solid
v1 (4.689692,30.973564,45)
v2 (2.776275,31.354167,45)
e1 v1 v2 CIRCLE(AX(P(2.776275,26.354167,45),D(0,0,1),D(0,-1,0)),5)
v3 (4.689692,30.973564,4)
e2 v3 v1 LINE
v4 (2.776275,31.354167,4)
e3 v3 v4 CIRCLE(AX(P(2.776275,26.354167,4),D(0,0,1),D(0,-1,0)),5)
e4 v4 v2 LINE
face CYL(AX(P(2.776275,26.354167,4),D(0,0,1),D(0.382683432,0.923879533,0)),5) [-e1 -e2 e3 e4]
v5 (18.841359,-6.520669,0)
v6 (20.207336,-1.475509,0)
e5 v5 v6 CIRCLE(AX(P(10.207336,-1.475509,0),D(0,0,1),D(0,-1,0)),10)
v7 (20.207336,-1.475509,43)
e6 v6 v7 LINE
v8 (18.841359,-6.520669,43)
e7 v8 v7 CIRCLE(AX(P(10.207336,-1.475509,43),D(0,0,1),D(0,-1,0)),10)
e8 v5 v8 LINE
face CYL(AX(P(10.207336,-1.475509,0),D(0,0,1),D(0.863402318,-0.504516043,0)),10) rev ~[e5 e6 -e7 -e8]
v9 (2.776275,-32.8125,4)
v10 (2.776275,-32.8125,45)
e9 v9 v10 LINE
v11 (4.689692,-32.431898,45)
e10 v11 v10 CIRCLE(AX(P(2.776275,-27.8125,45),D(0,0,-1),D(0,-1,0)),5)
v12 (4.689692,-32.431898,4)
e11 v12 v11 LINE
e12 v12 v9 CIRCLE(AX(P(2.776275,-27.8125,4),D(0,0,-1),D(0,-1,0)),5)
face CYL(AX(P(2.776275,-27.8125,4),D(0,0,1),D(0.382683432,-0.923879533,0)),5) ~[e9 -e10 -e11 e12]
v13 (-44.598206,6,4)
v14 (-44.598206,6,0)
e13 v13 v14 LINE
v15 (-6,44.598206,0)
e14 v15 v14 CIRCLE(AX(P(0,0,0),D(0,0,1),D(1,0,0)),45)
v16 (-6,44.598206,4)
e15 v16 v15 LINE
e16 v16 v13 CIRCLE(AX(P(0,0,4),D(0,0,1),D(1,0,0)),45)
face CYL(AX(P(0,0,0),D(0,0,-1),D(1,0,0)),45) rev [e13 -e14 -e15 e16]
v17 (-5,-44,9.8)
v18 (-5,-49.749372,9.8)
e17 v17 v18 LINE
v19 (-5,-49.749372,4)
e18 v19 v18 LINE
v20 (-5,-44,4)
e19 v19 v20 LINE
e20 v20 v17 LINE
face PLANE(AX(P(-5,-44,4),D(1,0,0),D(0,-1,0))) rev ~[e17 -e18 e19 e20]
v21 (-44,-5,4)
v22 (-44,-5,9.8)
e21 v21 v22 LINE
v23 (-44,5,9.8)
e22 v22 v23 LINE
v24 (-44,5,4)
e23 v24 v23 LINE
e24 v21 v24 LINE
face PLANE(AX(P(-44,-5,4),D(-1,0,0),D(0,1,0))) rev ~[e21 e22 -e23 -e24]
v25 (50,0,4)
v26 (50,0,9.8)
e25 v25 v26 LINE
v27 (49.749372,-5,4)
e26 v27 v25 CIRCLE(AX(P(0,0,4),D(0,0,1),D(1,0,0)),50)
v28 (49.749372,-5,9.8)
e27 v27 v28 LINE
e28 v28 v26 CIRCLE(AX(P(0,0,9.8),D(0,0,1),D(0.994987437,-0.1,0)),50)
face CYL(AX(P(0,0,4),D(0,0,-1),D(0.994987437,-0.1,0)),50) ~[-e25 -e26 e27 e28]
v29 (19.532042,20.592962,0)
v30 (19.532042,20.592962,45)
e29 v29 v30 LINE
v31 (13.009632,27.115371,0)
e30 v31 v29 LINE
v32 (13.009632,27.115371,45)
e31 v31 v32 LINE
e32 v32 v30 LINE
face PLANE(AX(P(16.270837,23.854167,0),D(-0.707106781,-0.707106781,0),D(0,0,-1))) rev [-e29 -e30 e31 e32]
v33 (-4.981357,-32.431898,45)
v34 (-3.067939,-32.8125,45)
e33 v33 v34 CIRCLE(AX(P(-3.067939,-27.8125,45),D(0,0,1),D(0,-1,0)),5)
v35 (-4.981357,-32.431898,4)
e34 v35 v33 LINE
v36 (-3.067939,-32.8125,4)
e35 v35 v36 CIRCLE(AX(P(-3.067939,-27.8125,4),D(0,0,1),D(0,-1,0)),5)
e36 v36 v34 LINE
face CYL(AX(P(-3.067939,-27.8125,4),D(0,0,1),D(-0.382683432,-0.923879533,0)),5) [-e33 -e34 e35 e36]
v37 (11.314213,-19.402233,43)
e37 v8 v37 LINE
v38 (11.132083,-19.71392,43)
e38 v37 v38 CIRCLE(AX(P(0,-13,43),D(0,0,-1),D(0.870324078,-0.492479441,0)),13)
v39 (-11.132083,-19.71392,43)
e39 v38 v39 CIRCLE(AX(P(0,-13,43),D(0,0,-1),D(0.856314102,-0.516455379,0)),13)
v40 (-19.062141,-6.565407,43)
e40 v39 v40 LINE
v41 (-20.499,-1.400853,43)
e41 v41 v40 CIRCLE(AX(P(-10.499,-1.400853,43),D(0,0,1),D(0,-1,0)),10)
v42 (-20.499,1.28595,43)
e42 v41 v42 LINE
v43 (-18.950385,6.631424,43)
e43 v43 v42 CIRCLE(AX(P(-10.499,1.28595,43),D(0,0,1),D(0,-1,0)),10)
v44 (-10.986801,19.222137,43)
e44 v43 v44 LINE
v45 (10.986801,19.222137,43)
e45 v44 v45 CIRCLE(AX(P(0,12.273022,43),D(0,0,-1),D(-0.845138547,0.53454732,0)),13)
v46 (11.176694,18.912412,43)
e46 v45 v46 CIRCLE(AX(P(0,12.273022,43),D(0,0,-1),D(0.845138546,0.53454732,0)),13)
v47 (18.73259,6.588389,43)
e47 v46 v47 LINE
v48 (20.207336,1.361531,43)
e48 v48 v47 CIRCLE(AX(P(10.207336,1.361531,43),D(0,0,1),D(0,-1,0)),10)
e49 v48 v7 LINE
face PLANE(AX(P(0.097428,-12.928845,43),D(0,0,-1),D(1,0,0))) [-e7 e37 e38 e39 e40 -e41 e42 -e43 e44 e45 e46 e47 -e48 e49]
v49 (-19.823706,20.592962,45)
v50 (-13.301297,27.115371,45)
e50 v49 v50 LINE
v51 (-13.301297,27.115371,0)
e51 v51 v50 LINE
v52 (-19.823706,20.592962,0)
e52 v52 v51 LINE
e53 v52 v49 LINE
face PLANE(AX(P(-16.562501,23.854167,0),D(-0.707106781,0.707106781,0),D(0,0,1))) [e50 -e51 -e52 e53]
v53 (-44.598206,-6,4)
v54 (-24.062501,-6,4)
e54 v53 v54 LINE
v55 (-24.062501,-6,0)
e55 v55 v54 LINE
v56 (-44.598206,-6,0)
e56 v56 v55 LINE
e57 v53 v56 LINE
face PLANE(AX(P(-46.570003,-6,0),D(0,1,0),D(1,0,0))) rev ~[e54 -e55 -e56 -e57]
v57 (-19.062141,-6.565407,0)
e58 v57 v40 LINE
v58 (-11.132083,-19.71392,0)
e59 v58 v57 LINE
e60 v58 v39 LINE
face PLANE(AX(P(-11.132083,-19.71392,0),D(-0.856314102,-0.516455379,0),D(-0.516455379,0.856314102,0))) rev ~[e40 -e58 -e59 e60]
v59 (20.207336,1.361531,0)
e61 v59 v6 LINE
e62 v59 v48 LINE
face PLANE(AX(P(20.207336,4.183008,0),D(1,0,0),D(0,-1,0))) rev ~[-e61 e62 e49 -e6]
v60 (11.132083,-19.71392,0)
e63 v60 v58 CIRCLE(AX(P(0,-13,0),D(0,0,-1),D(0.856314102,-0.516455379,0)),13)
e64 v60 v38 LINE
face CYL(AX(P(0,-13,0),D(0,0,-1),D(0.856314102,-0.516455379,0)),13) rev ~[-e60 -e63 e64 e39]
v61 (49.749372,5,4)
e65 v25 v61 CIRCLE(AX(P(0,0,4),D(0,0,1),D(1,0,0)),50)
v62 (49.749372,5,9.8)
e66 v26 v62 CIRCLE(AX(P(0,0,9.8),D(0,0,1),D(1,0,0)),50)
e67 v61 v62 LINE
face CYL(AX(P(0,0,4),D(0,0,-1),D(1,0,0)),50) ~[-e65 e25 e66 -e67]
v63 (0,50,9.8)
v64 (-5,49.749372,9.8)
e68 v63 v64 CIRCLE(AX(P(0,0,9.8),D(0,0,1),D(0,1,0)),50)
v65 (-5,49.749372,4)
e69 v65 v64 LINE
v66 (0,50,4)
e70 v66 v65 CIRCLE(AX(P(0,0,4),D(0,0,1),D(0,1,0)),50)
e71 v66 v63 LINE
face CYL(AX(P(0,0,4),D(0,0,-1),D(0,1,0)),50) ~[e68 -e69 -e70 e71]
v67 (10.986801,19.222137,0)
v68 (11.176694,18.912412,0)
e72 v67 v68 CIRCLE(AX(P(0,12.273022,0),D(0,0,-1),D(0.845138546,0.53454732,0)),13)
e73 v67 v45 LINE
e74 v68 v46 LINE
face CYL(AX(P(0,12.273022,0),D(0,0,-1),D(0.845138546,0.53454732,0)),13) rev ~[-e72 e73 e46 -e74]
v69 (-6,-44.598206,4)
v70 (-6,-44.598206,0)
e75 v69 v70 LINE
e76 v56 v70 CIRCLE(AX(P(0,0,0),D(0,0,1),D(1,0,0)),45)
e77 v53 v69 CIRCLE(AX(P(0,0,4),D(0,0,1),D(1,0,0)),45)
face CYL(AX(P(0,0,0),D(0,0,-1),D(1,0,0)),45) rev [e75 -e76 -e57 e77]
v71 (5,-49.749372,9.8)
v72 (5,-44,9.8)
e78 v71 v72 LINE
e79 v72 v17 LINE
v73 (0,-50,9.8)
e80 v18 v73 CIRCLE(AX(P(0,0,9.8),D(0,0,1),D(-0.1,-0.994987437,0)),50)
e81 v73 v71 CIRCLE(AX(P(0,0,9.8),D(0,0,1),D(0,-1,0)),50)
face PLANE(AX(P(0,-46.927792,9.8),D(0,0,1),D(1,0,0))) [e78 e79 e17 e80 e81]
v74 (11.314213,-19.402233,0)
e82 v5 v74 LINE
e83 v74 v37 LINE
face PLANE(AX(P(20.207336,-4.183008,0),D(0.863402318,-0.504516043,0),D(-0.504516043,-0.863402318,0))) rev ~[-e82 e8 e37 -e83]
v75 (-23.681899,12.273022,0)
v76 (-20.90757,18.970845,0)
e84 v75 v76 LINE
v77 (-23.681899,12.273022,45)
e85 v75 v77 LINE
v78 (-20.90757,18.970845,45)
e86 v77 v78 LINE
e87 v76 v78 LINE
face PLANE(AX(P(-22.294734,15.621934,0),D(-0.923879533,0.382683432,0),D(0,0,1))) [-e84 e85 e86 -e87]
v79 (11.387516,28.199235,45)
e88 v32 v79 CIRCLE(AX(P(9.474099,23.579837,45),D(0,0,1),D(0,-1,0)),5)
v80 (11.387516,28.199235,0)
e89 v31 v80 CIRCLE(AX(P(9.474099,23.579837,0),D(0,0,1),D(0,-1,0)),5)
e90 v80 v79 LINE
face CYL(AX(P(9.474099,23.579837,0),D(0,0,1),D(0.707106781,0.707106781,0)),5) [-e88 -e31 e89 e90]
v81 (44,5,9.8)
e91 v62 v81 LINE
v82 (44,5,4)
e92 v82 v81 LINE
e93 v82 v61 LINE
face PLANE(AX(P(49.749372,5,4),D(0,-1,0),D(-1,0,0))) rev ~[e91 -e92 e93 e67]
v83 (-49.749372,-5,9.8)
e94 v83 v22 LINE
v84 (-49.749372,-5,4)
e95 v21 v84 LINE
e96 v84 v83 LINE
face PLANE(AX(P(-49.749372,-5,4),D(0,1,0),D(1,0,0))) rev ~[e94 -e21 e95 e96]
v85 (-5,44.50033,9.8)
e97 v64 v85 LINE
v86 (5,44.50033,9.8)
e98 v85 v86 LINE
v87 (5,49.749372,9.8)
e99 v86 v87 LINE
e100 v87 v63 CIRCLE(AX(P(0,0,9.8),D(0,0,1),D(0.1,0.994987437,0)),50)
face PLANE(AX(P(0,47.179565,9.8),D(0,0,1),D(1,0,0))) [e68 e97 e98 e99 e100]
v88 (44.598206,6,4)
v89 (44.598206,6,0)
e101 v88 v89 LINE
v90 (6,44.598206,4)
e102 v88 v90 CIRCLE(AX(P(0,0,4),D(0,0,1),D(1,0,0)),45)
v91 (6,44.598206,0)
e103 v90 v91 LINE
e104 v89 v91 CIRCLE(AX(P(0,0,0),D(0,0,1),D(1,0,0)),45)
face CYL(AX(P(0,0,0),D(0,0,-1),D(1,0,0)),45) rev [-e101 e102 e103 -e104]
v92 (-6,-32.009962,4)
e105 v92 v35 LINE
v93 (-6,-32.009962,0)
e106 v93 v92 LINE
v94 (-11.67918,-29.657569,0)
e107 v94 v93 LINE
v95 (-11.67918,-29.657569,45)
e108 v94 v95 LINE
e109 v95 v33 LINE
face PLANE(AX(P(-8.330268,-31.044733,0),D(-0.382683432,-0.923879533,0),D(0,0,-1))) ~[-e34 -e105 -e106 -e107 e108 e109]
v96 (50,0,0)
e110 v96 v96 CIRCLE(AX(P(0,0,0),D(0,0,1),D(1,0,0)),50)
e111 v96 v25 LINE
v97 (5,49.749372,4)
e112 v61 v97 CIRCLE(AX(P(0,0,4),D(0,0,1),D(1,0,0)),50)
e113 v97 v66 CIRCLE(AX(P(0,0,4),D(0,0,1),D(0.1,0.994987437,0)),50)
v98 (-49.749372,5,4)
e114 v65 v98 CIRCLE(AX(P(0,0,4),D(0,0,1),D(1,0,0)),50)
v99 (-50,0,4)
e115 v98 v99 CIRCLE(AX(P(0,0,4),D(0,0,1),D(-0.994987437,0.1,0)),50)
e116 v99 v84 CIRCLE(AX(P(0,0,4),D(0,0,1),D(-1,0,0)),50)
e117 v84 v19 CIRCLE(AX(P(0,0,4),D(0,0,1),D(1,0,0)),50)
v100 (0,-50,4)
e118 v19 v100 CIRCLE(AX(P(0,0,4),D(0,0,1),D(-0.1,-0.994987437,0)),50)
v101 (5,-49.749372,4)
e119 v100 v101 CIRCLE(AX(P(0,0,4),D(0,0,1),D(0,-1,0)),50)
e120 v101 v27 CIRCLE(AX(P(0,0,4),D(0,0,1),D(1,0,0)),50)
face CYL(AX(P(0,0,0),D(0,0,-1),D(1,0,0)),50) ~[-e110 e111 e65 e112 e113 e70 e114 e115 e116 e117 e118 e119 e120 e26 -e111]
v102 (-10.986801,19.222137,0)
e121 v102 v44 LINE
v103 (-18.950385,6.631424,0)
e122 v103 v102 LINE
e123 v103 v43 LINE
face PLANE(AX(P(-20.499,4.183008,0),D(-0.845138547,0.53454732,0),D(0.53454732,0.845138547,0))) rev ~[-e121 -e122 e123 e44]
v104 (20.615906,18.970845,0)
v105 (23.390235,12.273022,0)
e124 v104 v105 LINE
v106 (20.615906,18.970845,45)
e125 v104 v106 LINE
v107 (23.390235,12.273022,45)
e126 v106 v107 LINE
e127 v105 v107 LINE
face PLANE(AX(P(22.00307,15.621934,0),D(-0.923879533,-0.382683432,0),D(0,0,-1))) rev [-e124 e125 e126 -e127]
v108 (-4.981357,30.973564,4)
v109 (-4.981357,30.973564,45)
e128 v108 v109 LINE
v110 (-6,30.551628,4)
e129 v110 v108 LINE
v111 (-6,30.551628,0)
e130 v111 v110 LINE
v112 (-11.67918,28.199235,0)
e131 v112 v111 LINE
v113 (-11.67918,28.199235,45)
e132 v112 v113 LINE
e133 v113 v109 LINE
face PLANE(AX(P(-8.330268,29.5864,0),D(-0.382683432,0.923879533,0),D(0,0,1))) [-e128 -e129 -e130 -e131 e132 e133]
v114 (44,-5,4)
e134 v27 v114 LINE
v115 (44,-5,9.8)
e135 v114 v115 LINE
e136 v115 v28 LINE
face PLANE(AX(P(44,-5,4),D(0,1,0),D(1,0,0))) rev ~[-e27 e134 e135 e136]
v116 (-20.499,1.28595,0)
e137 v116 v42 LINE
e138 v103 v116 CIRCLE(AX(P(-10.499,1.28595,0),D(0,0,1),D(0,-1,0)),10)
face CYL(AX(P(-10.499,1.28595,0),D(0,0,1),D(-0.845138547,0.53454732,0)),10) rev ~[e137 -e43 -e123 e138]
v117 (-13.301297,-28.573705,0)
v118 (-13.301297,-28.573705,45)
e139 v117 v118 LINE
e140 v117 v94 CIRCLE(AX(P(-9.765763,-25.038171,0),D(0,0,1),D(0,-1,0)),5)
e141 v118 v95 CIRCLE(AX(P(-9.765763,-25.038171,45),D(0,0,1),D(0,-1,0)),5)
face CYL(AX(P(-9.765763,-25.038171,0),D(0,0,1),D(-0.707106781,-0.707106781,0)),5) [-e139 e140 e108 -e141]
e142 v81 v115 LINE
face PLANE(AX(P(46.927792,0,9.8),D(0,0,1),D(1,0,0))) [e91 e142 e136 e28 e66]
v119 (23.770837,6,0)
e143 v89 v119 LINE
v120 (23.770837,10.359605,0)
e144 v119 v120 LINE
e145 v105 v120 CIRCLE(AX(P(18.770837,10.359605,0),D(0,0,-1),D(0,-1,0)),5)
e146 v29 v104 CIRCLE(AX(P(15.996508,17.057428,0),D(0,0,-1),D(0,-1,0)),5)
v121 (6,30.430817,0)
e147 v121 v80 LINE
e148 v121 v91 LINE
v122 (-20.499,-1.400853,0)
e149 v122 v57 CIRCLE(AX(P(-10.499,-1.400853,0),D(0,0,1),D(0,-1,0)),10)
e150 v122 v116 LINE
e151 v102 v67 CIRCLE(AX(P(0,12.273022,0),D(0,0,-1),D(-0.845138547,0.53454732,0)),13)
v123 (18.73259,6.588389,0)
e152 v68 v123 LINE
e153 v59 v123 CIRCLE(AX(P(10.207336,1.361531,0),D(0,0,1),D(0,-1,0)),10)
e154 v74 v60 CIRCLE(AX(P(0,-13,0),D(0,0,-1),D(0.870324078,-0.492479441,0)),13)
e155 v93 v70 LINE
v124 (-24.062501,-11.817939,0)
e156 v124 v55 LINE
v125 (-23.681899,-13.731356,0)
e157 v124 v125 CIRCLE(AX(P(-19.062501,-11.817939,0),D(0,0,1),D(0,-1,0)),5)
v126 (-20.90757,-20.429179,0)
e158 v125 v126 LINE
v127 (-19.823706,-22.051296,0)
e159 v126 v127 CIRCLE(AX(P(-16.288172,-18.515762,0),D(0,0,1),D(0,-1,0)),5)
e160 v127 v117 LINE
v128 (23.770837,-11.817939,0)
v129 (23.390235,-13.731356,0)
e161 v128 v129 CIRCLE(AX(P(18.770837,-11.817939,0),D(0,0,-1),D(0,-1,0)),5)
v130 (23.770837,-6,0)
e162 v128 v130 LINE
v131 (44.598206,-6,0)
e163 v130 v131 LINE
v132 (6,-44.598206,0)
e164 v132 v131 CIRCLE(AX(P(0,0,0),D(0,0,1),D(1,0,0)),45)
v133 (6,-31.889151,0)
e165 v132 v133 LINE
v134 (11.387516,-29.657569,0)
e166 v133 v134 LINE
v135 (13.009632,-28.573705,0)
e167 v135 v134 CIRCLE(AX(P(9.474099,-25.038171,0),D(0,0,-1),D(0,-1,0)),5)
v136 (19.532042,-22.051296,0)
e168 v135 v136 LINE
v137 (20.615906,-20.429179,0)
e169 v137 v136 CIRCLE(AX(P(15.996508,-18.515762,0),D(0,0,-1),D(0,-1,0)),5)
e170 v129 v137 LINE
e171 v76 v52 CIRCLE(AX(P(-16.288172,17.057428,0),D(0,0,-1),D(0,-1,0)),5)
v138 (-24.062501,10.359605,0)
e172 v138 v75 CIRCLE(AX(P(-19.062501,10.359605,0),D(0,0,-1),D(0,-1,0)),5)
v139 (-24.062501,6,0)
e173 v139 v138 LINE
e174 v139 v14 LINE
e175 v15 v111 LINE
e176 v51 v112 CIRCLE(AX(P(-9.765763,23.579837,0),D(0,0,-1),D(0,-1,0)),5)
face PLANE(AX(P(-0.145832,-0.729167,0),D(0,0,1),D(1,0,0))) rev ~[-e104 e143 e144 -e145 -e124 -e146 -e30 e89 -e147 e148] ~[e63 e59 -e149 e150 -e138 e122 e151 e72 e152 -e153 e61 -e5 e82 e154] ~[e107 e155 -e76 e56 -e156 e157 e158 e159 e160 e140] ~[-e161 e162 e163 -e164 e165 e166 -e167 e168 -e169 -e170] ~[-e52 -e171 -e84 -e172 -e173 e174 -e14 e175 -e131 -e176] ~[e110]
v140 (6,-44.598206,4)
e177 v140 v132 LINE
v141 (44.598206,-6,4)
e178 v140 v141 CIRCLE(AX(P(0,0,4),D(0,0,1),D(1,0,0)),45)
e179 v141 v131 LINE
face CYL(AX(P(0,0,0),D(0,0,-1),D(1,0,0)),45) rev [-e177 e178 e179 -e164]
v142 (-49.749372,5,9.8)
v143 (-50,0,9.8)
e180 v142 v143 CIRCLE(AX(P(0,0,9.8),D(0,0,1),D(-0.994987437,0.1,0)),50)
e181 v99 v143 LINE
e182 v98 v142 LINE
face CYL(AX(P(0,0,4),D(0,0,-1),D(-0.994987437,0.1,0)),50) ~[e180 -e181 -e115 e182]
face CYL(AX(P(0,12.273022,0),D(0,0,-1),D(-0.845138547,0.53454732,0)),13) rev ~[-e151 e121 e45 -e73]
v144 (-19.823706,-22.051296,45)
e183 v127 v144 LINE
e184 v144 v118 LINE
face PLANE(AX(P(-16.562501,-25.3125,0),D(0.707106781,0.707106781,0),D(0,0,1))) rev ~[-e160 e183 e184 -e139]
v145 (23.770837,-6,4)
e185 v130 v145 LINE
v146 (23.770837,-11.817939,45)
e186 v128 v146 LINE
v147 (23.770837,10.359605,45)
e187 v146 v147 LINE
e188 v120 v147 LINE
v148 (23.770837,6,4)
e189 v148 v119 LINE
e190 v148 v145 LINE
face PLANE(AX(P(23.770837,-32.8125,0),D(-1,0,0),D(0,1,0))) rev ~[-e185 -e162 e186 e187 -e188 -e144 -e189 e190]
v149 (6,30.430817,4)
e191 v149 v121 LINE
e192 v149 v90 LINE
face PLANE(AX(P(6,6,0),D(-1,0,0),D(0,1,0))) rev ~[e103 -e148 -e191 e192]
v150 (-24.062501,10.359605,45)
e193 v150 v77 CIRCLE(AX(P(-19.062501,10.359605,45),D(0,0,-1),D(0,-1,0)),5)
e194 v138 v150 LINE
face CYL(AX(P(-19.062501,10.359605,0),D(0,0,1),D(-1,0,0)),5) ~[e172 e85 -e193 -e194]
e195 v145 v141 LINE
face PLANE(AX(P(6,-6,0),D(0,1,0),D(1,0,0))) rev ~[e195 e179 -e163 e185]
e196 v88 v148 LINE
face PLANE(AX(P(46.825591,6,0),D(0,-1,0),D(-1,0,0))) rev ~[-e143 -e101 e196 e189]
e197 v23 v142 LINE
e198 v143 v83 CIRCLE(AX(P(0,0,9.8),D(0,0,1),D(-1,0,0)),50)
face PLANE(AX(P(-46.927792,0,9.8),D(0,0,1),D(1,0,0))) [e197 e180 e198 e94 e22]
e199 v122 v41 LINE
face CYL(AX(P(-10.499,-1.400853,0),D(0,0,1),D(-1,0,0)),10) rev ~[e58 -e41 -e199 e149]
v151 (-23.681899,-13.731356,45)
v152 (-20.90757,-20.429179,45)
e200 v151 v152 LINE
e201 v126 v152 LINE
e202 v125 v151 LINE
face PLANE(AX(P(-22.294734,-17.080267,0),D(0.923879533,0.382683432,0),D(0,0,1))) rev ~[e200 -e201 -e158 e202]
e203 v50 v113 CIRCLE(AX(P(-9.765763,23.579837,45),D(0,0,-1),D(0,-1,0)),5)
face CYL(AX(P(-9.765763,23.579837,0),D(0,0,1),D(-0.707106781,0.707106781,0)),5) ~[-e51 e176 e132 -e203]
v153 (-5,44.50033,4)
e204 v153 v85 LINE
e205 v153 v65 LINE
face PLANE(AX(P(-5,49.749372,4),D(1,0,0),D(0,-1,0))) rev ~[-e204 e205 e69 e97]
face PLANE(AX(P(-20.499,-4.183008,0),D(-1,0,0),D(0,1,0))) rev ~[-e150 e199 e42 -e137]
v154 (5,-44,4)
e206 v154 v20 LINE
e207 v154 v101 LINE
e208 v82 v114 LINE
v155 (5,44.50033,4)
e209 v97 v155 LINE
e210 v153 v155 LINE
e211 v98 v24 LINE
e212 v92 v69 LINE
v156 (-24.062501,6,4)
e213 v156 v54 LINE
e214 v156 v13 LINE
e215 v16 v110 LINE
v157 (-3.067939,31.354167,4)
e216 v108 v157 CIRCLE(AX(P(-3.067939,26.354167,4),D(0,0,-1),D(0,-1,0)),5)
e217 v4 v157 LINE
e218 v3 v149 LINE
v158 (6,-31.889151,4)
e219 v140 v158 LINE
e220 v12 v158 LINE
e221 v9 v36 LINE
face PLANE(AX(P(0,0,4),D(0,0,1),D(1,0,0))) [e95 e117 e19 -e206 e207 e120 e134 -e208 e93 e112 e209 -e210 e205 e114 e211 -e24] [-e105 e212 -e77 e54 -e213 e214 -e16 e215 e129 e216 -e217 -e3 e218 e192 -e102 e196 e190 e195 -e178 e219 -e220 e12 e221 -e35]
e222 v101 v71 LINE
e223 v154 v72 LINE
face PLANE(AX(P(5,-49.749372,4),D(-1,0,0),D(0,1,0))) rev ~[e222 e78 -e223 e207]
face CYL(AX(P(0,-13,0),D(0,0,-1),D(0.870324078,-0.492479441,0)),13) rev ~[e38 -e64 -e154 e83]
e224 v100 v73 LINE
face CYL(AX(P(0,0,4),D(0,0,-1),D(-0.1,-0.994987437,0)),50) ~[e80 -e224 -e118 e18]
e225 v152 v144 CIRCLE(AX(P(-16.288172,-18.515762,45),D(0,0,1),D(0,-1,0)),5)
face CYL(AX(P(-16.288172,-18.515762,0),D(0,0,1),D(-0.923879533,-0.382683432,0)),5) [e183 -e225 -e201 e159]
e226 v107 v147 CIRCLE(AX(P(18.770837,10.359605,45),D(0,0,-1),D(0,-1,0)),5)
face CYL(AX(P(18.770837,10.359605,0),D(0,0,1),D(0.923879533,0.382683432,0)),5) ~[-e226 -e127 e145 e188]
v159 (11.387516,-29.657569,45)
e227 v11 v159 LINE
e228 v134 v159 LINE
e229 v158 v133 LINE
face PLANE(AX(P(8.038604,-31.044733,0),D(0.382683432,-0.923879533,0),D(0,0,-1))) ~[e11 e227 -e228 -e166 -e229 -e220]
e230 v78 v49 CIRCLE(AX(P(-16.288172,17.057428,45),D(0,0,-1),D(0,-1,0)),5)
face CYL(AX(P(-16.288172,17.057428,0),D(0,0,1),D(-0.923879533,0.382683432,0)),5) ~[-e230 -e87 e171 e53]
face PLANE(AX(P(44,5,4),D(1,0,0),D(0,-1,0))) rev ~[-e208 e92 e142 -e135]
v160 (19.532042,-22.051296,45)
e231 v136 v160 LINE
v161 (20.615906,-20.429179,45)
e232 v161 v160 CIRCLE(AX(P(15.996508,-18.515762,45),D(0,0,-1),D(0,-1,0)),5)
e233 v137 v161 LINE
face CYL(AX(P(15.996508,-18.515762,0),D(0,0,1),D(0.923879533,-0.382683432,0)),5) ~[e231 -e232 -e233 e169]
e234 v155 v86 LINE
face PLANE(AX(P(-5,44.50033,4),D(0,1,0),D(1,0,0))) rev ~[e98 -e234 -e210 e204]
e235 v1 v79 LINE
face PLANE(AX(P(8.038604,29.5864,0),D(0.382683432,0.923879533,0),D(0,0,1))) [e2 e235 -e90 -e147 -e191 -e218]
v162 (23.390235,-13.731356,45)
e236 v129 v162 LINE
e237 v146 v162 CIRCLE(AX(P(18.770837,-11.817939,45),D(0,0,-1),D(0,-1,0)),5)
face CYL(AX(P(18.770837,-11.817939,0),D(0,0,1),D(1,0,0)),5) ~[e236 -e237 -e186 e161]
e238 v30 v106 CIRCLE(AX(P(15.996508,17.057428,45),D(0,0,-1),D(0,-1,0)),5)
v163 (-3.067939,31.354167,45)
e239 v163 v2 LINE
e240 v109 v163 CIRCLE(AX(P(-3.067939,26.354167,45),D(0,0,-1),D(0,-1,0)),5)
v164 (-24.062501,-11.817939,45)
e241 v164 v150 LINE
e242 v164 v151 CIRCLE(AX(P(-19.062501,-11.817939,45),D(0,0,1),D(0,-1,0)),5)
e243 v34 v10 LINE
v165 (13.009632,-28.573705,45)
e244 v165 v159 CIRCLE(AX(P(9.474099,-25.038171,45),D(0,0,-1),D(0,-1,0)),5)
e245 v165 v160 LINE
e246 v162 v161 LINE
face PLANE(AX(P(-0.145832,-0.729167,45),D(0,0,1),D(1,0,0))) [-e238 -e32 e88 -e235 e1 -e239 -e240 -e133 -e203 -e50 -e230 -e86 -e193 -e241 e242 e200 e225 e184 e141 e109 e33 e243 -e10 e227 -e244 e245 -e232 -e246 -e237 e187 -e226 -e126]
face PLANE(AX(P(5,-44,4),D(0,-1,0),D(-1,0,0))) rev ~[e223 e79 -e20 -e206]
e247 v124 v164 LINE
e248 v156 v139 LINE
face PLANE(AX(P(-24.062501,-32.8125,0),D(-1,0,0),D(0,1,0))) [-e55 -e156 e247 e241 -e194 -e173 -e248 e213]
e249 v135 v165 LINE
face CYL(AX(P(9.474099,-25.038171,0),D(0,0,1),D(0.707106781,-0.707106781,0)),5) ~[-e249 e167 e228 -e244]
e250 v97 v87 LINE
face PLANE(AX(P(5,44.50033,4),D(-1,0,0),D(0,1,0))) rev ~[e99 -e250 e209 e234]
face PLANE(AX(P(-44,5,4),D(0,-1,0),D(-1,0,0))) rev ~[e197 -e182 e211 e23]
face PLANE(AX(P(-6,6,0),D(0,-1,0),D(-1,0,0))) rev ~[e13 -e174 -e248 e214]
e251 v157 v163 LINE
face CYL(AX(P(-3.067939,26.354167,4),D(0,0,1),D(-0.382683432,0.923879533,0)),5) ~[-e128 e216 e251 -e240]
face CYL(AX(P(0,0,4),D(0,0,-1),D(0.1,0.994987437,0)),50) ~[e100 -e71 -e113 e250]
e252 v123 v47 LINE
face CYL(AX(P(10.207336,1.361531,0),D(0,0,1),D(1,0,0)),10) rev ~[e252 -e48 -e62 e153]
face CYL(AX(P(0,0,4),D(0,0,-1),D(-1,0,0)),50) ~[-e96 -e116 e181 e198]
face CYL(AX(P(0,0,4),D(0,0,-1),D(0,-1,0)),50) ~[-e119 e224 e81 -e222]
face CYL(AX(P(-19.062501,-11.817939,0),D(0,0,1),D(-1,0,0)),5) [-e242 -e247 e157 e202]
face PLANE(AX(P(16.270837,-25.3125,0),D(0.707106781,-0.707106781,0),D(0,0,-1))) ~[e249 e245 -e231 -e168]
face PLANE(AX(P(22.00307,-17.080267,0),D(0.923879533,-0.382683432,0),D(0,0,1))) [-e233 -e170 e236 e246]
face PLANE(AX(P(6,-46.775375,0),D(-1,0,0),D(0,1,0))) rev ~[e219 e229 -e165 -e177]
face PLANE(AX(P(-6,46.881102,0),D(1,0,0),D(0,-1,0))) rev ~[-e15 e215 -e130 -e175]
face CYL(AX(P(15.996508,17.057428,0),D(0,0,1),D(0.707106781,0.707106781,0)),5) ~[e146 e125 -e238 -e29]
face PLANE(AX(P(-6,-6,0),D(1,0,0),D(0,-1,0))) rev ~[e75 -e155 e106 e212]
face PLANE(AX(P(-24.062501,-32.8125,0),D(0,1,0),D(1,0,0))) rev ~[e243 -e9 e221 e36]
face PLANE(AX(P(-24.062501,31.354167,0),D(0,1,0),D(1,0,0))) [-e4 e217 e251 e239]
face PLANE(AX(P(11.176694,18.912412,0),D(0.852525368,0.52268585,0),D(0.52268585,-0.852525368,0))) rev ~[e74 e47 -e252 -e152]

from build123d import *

# Parameters (mm, degrees)
F0_R      = 50
F1_DEPTH  = 4
F3_DEPTH  = 5.8
F4_DEPTH  = 5.8
F5_DEPTH  = 5.8
F6_R      = 45
F7_DEPTH  = 4
F8_W      = 6
F8_H      = 6
F9_DEPTH  = 4
F10_R     = 22.5
F11_DEPTH = 25
F12_W     = 47.8333383799
F12_H     = 64.1666669399
F13_DEPTH = 45
F14_SIZE  = 15
F15_SIZE  = 5
F16_R     = 5
F18_DEPTH = 43
F19_R     = 10


with BuildPart() as f1:
    # F0 (on Top) → F1 (new body)
    with BuildSketch(Plane.XY):
        Circle(F0_R)
    extrude(amount=F1_DEPTH)

    # F2 (on face) → F3 (join)
    with BuildSketch(Plane.XY.offset(4)):
        with BuildLine():
            ThreePointArc((5, 49.7493718553), (2.503138753, 49.9373036555), (0, 50))
            ThreePointArc((0, 50), (-2.503138753, 49.9373036555), (-5, 49.7493718553))
            Line((-5, 49.7493718553), (-5, 44.5003296036))
            Line((-5, 44.5003296036), (5, 44.5003296036))
            Line((5, 44.5003296036), (5, 49.7493718553))
        make_face()
    extrude(amount=F3_DEPTH)

    # F2 (on face) → F4 (join)
    with BuildSketch(Plane.XY.offset(4)):
        with BuildLine():
            ThreePointArc((0, -50), (2.503138753, -49.9373036555), (5, -49.7493718553))
            Line((5, -49.7493718553), (5, -44))
            Line((5, -44), (-5, -44))
            Line((-5, -44), (-5, -49.7493718553))
            ThreePointArc((-5, -49.7493718553), (-2.503138753, -49.9373036555), (0, -50))
        make_face()
    extrude(amount=F4_DEPTH)

    # F2 (on face) → F5 (join)
    with BuildSketch(Plane.XY.offset(4)):
        with BuildLine():
            Line((-44, 5), (-49.7493718553, 5))
            ThreePointArc((-49.7493718553, 5), (-49.9373036555, 2.503138753), (-50, 0))
            ThreePointArc((-50, 0), (-49.9373036555, -2.503138753), (-49.7493718553, -5))
            Line((-49.7493718553, -5), (-44, -5))
            Line((-44, -5), (-44, 5))
        make_face()
        with BuildLine():
            ThreePointArc((50, 0), (49.9373036555, 2.503138753), (49.7493718553, 5))
            Line((49.7493718553, 5), (44, 5))
            Line((44, 5), (44, -5))
            Line((44, -5), (49.7493718553, -5))
            ThreePointArc((49.7493718553, -5), (49.9373036555, -2.503138753), (50, 0))
        make_face()
    extrude(amount=F5_DEPTH)

    # F6 (on Top) → F7 (cut)
    with BuildSketch(Plane.XY):
        Circle(F6_R)
    extrude(amount=F7_DEPTH, mode=Mode.SUBTRACT)

    # F8 (on Top) → F9 (join)
    with BuildSketch(Plane.XY):
        Polygon((6, 46.8811020255), (-6, 46.8811020255), (-6, 6), (0, 6), (6, 6), align=None)
        with Locations((-3, 3)):
            Rectangle(F8_W, F8_H)
        Polygon((-6, 0), (-6, 6), (-46.5700030327, 6), (-46.5700030327, -6), (-6, -6), align=None)
        Polygon((46.8255914748, 6), (6, 6), (6, 0), (6, -6), (46.8255914748, -6), align=None)
        with Locations((3, 3)):
            Rectangle(F8_W, F8_H)
        with Locations((-3, -3)):
            Rectangle(F8_W, F8_H)
        with Locations((3, -3)):
            Rectangle(F8_W, F8_H)
        Polygon((0, -6), (-6, -6), (-6, -46.7753745615), (6, -46.7753745615), (6, -6), align=None)
    extrude(amount=F9_DEPTH)

    # F10 (on face) → F11 (cut)
    with BuildSketch(Plane(origin=(0, 0, 0), x_dir=(1, 0, 0), z_dir=(0, 0, -1))):
        Circle(F10_R)
    extrude(amount=-F11_DEPTH, mode=Mode.SUBTRACT)

    # F12 (on Top) → F13 (join)
    with BuildSketch(Plane.XY):
        with Locations((-0.1458320767, -0.7291669026)):
            Rectangle(F12_W, F12_H)
    extrude(amount=F13_DEPTH)

    # F14
    f14_edges = [f1.edges().sort_by_distance(p)[0] for p in [
        (-24.062501, 31.354167, 22.5),
        (23.770837, 31.354167, 22.5),
        (23.770837, -32.8125, 22.5),
        (-24.062501, -32.8125, 22.5),
    ]]
    chamfer(f14_edges, length=F14_SIZE)

    # F15
    f15_edges = [f1.edges().sort_by_distance(p)[0] for p in [
        (-9.062501, 31.354167, 22.5),
        (8.770837, 31.354167, 22.5),
        (-24.062501, -17.8125, 22.5),
        (-9.062501, -32.8125, 22.5),
        (8.770837, -32.8125, 22.5),
        (23.770837, -17.8125, 22.5),
        (23.770837, 16.354167, 22.5),
        (-24.062501, 16.354167, 22.5),
    ]]
    chamfer(f15_edges, length=F15_SIZE)

    # F16
    f16_edges = [f1.edges().sort_by_distance(p)[0] for p in [
        (-24.062501, 11.354167, 22.5),
        (-20.526967, 19.8897, 22.5),
        (-12.598035, 27.818633, 22.5),
        (-4.062501, 31.354167, 24.5),
        (3.770837, 31.354167, 24.5),
        (12.306371, 27.818633, 22.5),
        (20.235303, 19.8897, 22.5),
        (23.770837, 11.354167, 22.5),
        (23.770837, -12.8125, 22.5),
        (20.235303, -21.348034, 22.5),
        (12.306371, -29.276966, 22.5),
        (3.770837, -32.8125, 24.5),
        (-4.062501, -32.8125, 24.5),
        (-24.062501, -12.8125, 22.5),
        (-20.526967, -21.348034, 22.5),
        (-12.598035, -29.276966, 22.5),
    ]]
    fillet(f16_edges, radius=F16_R)

    # F17 (on face) → F18 (cut)
    with BuildSketch(Plane(origin=(0, 0, 0), x_dir=(1, 0, 0), z_dir=(0, 0, -1))):
        with BuildLine():
            Line((11.3142130134, 19.4022327268), (11.1320833255, 19.7139199305))
            ThreePointArc((11.1320833255, 19.7139199305), (0, 26), (-11.1320833255, 19.7139199305))
            ThreePointArc((-11.1320833255, 19.7139199305), (-11.9963062924, 7.9911443085), (-3.0526367469, 0.3634890539))
            ThreePointArc((-3.0526367469, 0.3634890539), (0, 0.7269781077), (3.0526367469, 0.3634890539))
            ThreePointArc((3.0526367469, 0.3634890539), (10.2147999909, 4.9589887983), (13, 13))
            ThreePointArc((13, 13), (12.5714909453, 16.3102289065), (11.3142130134, 19.4022327268))
        make_face()
        with BuildLine():
            ThreePointArc((11.3142130134, 19.4022327268), (11.2242301322, 19.5587085572), (11.1320833255, 19.7139199305))
            Line((11.1320833255, 19.7139199305), (11.3142130134, 19.4022327268))
        make_face()
        with BuildLine():
            ThreePointArc((-3.0526367469, 0.3634890539), (-11.9963062924, 7.9911443085), (-11.1320833255, 19.7139199305))
            Line((-11.1320833255, 19.7139199305), (-20.499, 4.1830083316))
            Line((-20.499, 4.1830083316), (-20.499, -4.1830083316))
            Line((-20.499, -4.1830083316), (-10.9868011053, -19.2221370497))
            ThreePointArc((-10.9868011053, -19.2221370497), (-12.0488854783, -7.3920016371), (-3.0526367469, 0.3634890539))
        make_face()
        with BuildLine():
            Line((20.2073358467, 4.1830083316), (11.3142130134, 19.4022327268))
            ThreePointArc((11.3142130134, 19.4022327268), (12.5714909453, 16.3102289065), (13, 13))
            ThreePointArc((13, 13), (10.2147999909, 4.9589887983), (3.0526367469, 0.3634890539))
            ThreePointArc((3.0526367469, 0.3634890539), (10.2147999909, -4.2320106906), (13, -12.2730218923))
            ThreePointArc((13, -12.2730218923), (12.5358890301, -15.7156206526), (11.1766944269, -18.9124120515))
            Line((11.1766944269, -18.9124120515), (20.2073358467, -4.1830083316))
            Line((20.2073358467, -4.1830083316), (20.2073358467, 4.1830083316))
        make_face()
        with BuildLine():
            ThreePointArc((3.0526367469, 0.3634890539), (0, 0), (-3.0526367469, 0.3634890539))
            ThreePointArc((-3.0526367469, 0.3634890539), (-12.0488854783, -7.3920016371), (-10.9868011053, -19.2221370497))
            ThreePointArc((-10.9868011053, -19.2221370497), (0, -25.2730218923), (10.9868011053, -19.2221370497))
            Line((10.9868011053, -19.2221370497), (11.1766944269, -18.9124120515))
            ThreePointArc((11.1766944269, -18.9124120515), (12.5358890301, -15.7156206526), (13, -12.2730218923))
            ThreePointArc((13, -12.2730218923), (10.2147999909, -4.2320106906), (3.0526367469, 0.3634890539))
        make_face()
        with BuildLine():
            Line((11.1766944269, -18.9124120515), (10.9868011053, -19.2221370497))
            ThreePointArc((10.9868011053, -19.2221370497), (11.0828297806, -19.0679379369), (11.1766944269, -18.9124120515))
        make_face()
        with BuildLine():
            ThreePointArc((3.0526367469, 0.3634890539), (0, 0.7269781077), (-3.0526367469, 0.3634890539))
            ThreePointArc((-3.0526367469, 0.3634890539), (0, 0), (3.0526367469, 0.3634890539))
        make_face()
    extrude(amount=-F18_DEPTH, mode=Mode.SUBTRACT)

    # F19
    f19_edges = [f1.edges().sort_by_distance(p)[0] for p in [
        (-20.499, 4.183008, 21.5),
        (20.207336, 4.183008, 21.5),
        (-20.499, -4.183008, 21.5),
        (20.207336, -4.183008, 21.5),
    ]]
    fillet(f19_edges, radius=F19_R)


solid = f1.part
